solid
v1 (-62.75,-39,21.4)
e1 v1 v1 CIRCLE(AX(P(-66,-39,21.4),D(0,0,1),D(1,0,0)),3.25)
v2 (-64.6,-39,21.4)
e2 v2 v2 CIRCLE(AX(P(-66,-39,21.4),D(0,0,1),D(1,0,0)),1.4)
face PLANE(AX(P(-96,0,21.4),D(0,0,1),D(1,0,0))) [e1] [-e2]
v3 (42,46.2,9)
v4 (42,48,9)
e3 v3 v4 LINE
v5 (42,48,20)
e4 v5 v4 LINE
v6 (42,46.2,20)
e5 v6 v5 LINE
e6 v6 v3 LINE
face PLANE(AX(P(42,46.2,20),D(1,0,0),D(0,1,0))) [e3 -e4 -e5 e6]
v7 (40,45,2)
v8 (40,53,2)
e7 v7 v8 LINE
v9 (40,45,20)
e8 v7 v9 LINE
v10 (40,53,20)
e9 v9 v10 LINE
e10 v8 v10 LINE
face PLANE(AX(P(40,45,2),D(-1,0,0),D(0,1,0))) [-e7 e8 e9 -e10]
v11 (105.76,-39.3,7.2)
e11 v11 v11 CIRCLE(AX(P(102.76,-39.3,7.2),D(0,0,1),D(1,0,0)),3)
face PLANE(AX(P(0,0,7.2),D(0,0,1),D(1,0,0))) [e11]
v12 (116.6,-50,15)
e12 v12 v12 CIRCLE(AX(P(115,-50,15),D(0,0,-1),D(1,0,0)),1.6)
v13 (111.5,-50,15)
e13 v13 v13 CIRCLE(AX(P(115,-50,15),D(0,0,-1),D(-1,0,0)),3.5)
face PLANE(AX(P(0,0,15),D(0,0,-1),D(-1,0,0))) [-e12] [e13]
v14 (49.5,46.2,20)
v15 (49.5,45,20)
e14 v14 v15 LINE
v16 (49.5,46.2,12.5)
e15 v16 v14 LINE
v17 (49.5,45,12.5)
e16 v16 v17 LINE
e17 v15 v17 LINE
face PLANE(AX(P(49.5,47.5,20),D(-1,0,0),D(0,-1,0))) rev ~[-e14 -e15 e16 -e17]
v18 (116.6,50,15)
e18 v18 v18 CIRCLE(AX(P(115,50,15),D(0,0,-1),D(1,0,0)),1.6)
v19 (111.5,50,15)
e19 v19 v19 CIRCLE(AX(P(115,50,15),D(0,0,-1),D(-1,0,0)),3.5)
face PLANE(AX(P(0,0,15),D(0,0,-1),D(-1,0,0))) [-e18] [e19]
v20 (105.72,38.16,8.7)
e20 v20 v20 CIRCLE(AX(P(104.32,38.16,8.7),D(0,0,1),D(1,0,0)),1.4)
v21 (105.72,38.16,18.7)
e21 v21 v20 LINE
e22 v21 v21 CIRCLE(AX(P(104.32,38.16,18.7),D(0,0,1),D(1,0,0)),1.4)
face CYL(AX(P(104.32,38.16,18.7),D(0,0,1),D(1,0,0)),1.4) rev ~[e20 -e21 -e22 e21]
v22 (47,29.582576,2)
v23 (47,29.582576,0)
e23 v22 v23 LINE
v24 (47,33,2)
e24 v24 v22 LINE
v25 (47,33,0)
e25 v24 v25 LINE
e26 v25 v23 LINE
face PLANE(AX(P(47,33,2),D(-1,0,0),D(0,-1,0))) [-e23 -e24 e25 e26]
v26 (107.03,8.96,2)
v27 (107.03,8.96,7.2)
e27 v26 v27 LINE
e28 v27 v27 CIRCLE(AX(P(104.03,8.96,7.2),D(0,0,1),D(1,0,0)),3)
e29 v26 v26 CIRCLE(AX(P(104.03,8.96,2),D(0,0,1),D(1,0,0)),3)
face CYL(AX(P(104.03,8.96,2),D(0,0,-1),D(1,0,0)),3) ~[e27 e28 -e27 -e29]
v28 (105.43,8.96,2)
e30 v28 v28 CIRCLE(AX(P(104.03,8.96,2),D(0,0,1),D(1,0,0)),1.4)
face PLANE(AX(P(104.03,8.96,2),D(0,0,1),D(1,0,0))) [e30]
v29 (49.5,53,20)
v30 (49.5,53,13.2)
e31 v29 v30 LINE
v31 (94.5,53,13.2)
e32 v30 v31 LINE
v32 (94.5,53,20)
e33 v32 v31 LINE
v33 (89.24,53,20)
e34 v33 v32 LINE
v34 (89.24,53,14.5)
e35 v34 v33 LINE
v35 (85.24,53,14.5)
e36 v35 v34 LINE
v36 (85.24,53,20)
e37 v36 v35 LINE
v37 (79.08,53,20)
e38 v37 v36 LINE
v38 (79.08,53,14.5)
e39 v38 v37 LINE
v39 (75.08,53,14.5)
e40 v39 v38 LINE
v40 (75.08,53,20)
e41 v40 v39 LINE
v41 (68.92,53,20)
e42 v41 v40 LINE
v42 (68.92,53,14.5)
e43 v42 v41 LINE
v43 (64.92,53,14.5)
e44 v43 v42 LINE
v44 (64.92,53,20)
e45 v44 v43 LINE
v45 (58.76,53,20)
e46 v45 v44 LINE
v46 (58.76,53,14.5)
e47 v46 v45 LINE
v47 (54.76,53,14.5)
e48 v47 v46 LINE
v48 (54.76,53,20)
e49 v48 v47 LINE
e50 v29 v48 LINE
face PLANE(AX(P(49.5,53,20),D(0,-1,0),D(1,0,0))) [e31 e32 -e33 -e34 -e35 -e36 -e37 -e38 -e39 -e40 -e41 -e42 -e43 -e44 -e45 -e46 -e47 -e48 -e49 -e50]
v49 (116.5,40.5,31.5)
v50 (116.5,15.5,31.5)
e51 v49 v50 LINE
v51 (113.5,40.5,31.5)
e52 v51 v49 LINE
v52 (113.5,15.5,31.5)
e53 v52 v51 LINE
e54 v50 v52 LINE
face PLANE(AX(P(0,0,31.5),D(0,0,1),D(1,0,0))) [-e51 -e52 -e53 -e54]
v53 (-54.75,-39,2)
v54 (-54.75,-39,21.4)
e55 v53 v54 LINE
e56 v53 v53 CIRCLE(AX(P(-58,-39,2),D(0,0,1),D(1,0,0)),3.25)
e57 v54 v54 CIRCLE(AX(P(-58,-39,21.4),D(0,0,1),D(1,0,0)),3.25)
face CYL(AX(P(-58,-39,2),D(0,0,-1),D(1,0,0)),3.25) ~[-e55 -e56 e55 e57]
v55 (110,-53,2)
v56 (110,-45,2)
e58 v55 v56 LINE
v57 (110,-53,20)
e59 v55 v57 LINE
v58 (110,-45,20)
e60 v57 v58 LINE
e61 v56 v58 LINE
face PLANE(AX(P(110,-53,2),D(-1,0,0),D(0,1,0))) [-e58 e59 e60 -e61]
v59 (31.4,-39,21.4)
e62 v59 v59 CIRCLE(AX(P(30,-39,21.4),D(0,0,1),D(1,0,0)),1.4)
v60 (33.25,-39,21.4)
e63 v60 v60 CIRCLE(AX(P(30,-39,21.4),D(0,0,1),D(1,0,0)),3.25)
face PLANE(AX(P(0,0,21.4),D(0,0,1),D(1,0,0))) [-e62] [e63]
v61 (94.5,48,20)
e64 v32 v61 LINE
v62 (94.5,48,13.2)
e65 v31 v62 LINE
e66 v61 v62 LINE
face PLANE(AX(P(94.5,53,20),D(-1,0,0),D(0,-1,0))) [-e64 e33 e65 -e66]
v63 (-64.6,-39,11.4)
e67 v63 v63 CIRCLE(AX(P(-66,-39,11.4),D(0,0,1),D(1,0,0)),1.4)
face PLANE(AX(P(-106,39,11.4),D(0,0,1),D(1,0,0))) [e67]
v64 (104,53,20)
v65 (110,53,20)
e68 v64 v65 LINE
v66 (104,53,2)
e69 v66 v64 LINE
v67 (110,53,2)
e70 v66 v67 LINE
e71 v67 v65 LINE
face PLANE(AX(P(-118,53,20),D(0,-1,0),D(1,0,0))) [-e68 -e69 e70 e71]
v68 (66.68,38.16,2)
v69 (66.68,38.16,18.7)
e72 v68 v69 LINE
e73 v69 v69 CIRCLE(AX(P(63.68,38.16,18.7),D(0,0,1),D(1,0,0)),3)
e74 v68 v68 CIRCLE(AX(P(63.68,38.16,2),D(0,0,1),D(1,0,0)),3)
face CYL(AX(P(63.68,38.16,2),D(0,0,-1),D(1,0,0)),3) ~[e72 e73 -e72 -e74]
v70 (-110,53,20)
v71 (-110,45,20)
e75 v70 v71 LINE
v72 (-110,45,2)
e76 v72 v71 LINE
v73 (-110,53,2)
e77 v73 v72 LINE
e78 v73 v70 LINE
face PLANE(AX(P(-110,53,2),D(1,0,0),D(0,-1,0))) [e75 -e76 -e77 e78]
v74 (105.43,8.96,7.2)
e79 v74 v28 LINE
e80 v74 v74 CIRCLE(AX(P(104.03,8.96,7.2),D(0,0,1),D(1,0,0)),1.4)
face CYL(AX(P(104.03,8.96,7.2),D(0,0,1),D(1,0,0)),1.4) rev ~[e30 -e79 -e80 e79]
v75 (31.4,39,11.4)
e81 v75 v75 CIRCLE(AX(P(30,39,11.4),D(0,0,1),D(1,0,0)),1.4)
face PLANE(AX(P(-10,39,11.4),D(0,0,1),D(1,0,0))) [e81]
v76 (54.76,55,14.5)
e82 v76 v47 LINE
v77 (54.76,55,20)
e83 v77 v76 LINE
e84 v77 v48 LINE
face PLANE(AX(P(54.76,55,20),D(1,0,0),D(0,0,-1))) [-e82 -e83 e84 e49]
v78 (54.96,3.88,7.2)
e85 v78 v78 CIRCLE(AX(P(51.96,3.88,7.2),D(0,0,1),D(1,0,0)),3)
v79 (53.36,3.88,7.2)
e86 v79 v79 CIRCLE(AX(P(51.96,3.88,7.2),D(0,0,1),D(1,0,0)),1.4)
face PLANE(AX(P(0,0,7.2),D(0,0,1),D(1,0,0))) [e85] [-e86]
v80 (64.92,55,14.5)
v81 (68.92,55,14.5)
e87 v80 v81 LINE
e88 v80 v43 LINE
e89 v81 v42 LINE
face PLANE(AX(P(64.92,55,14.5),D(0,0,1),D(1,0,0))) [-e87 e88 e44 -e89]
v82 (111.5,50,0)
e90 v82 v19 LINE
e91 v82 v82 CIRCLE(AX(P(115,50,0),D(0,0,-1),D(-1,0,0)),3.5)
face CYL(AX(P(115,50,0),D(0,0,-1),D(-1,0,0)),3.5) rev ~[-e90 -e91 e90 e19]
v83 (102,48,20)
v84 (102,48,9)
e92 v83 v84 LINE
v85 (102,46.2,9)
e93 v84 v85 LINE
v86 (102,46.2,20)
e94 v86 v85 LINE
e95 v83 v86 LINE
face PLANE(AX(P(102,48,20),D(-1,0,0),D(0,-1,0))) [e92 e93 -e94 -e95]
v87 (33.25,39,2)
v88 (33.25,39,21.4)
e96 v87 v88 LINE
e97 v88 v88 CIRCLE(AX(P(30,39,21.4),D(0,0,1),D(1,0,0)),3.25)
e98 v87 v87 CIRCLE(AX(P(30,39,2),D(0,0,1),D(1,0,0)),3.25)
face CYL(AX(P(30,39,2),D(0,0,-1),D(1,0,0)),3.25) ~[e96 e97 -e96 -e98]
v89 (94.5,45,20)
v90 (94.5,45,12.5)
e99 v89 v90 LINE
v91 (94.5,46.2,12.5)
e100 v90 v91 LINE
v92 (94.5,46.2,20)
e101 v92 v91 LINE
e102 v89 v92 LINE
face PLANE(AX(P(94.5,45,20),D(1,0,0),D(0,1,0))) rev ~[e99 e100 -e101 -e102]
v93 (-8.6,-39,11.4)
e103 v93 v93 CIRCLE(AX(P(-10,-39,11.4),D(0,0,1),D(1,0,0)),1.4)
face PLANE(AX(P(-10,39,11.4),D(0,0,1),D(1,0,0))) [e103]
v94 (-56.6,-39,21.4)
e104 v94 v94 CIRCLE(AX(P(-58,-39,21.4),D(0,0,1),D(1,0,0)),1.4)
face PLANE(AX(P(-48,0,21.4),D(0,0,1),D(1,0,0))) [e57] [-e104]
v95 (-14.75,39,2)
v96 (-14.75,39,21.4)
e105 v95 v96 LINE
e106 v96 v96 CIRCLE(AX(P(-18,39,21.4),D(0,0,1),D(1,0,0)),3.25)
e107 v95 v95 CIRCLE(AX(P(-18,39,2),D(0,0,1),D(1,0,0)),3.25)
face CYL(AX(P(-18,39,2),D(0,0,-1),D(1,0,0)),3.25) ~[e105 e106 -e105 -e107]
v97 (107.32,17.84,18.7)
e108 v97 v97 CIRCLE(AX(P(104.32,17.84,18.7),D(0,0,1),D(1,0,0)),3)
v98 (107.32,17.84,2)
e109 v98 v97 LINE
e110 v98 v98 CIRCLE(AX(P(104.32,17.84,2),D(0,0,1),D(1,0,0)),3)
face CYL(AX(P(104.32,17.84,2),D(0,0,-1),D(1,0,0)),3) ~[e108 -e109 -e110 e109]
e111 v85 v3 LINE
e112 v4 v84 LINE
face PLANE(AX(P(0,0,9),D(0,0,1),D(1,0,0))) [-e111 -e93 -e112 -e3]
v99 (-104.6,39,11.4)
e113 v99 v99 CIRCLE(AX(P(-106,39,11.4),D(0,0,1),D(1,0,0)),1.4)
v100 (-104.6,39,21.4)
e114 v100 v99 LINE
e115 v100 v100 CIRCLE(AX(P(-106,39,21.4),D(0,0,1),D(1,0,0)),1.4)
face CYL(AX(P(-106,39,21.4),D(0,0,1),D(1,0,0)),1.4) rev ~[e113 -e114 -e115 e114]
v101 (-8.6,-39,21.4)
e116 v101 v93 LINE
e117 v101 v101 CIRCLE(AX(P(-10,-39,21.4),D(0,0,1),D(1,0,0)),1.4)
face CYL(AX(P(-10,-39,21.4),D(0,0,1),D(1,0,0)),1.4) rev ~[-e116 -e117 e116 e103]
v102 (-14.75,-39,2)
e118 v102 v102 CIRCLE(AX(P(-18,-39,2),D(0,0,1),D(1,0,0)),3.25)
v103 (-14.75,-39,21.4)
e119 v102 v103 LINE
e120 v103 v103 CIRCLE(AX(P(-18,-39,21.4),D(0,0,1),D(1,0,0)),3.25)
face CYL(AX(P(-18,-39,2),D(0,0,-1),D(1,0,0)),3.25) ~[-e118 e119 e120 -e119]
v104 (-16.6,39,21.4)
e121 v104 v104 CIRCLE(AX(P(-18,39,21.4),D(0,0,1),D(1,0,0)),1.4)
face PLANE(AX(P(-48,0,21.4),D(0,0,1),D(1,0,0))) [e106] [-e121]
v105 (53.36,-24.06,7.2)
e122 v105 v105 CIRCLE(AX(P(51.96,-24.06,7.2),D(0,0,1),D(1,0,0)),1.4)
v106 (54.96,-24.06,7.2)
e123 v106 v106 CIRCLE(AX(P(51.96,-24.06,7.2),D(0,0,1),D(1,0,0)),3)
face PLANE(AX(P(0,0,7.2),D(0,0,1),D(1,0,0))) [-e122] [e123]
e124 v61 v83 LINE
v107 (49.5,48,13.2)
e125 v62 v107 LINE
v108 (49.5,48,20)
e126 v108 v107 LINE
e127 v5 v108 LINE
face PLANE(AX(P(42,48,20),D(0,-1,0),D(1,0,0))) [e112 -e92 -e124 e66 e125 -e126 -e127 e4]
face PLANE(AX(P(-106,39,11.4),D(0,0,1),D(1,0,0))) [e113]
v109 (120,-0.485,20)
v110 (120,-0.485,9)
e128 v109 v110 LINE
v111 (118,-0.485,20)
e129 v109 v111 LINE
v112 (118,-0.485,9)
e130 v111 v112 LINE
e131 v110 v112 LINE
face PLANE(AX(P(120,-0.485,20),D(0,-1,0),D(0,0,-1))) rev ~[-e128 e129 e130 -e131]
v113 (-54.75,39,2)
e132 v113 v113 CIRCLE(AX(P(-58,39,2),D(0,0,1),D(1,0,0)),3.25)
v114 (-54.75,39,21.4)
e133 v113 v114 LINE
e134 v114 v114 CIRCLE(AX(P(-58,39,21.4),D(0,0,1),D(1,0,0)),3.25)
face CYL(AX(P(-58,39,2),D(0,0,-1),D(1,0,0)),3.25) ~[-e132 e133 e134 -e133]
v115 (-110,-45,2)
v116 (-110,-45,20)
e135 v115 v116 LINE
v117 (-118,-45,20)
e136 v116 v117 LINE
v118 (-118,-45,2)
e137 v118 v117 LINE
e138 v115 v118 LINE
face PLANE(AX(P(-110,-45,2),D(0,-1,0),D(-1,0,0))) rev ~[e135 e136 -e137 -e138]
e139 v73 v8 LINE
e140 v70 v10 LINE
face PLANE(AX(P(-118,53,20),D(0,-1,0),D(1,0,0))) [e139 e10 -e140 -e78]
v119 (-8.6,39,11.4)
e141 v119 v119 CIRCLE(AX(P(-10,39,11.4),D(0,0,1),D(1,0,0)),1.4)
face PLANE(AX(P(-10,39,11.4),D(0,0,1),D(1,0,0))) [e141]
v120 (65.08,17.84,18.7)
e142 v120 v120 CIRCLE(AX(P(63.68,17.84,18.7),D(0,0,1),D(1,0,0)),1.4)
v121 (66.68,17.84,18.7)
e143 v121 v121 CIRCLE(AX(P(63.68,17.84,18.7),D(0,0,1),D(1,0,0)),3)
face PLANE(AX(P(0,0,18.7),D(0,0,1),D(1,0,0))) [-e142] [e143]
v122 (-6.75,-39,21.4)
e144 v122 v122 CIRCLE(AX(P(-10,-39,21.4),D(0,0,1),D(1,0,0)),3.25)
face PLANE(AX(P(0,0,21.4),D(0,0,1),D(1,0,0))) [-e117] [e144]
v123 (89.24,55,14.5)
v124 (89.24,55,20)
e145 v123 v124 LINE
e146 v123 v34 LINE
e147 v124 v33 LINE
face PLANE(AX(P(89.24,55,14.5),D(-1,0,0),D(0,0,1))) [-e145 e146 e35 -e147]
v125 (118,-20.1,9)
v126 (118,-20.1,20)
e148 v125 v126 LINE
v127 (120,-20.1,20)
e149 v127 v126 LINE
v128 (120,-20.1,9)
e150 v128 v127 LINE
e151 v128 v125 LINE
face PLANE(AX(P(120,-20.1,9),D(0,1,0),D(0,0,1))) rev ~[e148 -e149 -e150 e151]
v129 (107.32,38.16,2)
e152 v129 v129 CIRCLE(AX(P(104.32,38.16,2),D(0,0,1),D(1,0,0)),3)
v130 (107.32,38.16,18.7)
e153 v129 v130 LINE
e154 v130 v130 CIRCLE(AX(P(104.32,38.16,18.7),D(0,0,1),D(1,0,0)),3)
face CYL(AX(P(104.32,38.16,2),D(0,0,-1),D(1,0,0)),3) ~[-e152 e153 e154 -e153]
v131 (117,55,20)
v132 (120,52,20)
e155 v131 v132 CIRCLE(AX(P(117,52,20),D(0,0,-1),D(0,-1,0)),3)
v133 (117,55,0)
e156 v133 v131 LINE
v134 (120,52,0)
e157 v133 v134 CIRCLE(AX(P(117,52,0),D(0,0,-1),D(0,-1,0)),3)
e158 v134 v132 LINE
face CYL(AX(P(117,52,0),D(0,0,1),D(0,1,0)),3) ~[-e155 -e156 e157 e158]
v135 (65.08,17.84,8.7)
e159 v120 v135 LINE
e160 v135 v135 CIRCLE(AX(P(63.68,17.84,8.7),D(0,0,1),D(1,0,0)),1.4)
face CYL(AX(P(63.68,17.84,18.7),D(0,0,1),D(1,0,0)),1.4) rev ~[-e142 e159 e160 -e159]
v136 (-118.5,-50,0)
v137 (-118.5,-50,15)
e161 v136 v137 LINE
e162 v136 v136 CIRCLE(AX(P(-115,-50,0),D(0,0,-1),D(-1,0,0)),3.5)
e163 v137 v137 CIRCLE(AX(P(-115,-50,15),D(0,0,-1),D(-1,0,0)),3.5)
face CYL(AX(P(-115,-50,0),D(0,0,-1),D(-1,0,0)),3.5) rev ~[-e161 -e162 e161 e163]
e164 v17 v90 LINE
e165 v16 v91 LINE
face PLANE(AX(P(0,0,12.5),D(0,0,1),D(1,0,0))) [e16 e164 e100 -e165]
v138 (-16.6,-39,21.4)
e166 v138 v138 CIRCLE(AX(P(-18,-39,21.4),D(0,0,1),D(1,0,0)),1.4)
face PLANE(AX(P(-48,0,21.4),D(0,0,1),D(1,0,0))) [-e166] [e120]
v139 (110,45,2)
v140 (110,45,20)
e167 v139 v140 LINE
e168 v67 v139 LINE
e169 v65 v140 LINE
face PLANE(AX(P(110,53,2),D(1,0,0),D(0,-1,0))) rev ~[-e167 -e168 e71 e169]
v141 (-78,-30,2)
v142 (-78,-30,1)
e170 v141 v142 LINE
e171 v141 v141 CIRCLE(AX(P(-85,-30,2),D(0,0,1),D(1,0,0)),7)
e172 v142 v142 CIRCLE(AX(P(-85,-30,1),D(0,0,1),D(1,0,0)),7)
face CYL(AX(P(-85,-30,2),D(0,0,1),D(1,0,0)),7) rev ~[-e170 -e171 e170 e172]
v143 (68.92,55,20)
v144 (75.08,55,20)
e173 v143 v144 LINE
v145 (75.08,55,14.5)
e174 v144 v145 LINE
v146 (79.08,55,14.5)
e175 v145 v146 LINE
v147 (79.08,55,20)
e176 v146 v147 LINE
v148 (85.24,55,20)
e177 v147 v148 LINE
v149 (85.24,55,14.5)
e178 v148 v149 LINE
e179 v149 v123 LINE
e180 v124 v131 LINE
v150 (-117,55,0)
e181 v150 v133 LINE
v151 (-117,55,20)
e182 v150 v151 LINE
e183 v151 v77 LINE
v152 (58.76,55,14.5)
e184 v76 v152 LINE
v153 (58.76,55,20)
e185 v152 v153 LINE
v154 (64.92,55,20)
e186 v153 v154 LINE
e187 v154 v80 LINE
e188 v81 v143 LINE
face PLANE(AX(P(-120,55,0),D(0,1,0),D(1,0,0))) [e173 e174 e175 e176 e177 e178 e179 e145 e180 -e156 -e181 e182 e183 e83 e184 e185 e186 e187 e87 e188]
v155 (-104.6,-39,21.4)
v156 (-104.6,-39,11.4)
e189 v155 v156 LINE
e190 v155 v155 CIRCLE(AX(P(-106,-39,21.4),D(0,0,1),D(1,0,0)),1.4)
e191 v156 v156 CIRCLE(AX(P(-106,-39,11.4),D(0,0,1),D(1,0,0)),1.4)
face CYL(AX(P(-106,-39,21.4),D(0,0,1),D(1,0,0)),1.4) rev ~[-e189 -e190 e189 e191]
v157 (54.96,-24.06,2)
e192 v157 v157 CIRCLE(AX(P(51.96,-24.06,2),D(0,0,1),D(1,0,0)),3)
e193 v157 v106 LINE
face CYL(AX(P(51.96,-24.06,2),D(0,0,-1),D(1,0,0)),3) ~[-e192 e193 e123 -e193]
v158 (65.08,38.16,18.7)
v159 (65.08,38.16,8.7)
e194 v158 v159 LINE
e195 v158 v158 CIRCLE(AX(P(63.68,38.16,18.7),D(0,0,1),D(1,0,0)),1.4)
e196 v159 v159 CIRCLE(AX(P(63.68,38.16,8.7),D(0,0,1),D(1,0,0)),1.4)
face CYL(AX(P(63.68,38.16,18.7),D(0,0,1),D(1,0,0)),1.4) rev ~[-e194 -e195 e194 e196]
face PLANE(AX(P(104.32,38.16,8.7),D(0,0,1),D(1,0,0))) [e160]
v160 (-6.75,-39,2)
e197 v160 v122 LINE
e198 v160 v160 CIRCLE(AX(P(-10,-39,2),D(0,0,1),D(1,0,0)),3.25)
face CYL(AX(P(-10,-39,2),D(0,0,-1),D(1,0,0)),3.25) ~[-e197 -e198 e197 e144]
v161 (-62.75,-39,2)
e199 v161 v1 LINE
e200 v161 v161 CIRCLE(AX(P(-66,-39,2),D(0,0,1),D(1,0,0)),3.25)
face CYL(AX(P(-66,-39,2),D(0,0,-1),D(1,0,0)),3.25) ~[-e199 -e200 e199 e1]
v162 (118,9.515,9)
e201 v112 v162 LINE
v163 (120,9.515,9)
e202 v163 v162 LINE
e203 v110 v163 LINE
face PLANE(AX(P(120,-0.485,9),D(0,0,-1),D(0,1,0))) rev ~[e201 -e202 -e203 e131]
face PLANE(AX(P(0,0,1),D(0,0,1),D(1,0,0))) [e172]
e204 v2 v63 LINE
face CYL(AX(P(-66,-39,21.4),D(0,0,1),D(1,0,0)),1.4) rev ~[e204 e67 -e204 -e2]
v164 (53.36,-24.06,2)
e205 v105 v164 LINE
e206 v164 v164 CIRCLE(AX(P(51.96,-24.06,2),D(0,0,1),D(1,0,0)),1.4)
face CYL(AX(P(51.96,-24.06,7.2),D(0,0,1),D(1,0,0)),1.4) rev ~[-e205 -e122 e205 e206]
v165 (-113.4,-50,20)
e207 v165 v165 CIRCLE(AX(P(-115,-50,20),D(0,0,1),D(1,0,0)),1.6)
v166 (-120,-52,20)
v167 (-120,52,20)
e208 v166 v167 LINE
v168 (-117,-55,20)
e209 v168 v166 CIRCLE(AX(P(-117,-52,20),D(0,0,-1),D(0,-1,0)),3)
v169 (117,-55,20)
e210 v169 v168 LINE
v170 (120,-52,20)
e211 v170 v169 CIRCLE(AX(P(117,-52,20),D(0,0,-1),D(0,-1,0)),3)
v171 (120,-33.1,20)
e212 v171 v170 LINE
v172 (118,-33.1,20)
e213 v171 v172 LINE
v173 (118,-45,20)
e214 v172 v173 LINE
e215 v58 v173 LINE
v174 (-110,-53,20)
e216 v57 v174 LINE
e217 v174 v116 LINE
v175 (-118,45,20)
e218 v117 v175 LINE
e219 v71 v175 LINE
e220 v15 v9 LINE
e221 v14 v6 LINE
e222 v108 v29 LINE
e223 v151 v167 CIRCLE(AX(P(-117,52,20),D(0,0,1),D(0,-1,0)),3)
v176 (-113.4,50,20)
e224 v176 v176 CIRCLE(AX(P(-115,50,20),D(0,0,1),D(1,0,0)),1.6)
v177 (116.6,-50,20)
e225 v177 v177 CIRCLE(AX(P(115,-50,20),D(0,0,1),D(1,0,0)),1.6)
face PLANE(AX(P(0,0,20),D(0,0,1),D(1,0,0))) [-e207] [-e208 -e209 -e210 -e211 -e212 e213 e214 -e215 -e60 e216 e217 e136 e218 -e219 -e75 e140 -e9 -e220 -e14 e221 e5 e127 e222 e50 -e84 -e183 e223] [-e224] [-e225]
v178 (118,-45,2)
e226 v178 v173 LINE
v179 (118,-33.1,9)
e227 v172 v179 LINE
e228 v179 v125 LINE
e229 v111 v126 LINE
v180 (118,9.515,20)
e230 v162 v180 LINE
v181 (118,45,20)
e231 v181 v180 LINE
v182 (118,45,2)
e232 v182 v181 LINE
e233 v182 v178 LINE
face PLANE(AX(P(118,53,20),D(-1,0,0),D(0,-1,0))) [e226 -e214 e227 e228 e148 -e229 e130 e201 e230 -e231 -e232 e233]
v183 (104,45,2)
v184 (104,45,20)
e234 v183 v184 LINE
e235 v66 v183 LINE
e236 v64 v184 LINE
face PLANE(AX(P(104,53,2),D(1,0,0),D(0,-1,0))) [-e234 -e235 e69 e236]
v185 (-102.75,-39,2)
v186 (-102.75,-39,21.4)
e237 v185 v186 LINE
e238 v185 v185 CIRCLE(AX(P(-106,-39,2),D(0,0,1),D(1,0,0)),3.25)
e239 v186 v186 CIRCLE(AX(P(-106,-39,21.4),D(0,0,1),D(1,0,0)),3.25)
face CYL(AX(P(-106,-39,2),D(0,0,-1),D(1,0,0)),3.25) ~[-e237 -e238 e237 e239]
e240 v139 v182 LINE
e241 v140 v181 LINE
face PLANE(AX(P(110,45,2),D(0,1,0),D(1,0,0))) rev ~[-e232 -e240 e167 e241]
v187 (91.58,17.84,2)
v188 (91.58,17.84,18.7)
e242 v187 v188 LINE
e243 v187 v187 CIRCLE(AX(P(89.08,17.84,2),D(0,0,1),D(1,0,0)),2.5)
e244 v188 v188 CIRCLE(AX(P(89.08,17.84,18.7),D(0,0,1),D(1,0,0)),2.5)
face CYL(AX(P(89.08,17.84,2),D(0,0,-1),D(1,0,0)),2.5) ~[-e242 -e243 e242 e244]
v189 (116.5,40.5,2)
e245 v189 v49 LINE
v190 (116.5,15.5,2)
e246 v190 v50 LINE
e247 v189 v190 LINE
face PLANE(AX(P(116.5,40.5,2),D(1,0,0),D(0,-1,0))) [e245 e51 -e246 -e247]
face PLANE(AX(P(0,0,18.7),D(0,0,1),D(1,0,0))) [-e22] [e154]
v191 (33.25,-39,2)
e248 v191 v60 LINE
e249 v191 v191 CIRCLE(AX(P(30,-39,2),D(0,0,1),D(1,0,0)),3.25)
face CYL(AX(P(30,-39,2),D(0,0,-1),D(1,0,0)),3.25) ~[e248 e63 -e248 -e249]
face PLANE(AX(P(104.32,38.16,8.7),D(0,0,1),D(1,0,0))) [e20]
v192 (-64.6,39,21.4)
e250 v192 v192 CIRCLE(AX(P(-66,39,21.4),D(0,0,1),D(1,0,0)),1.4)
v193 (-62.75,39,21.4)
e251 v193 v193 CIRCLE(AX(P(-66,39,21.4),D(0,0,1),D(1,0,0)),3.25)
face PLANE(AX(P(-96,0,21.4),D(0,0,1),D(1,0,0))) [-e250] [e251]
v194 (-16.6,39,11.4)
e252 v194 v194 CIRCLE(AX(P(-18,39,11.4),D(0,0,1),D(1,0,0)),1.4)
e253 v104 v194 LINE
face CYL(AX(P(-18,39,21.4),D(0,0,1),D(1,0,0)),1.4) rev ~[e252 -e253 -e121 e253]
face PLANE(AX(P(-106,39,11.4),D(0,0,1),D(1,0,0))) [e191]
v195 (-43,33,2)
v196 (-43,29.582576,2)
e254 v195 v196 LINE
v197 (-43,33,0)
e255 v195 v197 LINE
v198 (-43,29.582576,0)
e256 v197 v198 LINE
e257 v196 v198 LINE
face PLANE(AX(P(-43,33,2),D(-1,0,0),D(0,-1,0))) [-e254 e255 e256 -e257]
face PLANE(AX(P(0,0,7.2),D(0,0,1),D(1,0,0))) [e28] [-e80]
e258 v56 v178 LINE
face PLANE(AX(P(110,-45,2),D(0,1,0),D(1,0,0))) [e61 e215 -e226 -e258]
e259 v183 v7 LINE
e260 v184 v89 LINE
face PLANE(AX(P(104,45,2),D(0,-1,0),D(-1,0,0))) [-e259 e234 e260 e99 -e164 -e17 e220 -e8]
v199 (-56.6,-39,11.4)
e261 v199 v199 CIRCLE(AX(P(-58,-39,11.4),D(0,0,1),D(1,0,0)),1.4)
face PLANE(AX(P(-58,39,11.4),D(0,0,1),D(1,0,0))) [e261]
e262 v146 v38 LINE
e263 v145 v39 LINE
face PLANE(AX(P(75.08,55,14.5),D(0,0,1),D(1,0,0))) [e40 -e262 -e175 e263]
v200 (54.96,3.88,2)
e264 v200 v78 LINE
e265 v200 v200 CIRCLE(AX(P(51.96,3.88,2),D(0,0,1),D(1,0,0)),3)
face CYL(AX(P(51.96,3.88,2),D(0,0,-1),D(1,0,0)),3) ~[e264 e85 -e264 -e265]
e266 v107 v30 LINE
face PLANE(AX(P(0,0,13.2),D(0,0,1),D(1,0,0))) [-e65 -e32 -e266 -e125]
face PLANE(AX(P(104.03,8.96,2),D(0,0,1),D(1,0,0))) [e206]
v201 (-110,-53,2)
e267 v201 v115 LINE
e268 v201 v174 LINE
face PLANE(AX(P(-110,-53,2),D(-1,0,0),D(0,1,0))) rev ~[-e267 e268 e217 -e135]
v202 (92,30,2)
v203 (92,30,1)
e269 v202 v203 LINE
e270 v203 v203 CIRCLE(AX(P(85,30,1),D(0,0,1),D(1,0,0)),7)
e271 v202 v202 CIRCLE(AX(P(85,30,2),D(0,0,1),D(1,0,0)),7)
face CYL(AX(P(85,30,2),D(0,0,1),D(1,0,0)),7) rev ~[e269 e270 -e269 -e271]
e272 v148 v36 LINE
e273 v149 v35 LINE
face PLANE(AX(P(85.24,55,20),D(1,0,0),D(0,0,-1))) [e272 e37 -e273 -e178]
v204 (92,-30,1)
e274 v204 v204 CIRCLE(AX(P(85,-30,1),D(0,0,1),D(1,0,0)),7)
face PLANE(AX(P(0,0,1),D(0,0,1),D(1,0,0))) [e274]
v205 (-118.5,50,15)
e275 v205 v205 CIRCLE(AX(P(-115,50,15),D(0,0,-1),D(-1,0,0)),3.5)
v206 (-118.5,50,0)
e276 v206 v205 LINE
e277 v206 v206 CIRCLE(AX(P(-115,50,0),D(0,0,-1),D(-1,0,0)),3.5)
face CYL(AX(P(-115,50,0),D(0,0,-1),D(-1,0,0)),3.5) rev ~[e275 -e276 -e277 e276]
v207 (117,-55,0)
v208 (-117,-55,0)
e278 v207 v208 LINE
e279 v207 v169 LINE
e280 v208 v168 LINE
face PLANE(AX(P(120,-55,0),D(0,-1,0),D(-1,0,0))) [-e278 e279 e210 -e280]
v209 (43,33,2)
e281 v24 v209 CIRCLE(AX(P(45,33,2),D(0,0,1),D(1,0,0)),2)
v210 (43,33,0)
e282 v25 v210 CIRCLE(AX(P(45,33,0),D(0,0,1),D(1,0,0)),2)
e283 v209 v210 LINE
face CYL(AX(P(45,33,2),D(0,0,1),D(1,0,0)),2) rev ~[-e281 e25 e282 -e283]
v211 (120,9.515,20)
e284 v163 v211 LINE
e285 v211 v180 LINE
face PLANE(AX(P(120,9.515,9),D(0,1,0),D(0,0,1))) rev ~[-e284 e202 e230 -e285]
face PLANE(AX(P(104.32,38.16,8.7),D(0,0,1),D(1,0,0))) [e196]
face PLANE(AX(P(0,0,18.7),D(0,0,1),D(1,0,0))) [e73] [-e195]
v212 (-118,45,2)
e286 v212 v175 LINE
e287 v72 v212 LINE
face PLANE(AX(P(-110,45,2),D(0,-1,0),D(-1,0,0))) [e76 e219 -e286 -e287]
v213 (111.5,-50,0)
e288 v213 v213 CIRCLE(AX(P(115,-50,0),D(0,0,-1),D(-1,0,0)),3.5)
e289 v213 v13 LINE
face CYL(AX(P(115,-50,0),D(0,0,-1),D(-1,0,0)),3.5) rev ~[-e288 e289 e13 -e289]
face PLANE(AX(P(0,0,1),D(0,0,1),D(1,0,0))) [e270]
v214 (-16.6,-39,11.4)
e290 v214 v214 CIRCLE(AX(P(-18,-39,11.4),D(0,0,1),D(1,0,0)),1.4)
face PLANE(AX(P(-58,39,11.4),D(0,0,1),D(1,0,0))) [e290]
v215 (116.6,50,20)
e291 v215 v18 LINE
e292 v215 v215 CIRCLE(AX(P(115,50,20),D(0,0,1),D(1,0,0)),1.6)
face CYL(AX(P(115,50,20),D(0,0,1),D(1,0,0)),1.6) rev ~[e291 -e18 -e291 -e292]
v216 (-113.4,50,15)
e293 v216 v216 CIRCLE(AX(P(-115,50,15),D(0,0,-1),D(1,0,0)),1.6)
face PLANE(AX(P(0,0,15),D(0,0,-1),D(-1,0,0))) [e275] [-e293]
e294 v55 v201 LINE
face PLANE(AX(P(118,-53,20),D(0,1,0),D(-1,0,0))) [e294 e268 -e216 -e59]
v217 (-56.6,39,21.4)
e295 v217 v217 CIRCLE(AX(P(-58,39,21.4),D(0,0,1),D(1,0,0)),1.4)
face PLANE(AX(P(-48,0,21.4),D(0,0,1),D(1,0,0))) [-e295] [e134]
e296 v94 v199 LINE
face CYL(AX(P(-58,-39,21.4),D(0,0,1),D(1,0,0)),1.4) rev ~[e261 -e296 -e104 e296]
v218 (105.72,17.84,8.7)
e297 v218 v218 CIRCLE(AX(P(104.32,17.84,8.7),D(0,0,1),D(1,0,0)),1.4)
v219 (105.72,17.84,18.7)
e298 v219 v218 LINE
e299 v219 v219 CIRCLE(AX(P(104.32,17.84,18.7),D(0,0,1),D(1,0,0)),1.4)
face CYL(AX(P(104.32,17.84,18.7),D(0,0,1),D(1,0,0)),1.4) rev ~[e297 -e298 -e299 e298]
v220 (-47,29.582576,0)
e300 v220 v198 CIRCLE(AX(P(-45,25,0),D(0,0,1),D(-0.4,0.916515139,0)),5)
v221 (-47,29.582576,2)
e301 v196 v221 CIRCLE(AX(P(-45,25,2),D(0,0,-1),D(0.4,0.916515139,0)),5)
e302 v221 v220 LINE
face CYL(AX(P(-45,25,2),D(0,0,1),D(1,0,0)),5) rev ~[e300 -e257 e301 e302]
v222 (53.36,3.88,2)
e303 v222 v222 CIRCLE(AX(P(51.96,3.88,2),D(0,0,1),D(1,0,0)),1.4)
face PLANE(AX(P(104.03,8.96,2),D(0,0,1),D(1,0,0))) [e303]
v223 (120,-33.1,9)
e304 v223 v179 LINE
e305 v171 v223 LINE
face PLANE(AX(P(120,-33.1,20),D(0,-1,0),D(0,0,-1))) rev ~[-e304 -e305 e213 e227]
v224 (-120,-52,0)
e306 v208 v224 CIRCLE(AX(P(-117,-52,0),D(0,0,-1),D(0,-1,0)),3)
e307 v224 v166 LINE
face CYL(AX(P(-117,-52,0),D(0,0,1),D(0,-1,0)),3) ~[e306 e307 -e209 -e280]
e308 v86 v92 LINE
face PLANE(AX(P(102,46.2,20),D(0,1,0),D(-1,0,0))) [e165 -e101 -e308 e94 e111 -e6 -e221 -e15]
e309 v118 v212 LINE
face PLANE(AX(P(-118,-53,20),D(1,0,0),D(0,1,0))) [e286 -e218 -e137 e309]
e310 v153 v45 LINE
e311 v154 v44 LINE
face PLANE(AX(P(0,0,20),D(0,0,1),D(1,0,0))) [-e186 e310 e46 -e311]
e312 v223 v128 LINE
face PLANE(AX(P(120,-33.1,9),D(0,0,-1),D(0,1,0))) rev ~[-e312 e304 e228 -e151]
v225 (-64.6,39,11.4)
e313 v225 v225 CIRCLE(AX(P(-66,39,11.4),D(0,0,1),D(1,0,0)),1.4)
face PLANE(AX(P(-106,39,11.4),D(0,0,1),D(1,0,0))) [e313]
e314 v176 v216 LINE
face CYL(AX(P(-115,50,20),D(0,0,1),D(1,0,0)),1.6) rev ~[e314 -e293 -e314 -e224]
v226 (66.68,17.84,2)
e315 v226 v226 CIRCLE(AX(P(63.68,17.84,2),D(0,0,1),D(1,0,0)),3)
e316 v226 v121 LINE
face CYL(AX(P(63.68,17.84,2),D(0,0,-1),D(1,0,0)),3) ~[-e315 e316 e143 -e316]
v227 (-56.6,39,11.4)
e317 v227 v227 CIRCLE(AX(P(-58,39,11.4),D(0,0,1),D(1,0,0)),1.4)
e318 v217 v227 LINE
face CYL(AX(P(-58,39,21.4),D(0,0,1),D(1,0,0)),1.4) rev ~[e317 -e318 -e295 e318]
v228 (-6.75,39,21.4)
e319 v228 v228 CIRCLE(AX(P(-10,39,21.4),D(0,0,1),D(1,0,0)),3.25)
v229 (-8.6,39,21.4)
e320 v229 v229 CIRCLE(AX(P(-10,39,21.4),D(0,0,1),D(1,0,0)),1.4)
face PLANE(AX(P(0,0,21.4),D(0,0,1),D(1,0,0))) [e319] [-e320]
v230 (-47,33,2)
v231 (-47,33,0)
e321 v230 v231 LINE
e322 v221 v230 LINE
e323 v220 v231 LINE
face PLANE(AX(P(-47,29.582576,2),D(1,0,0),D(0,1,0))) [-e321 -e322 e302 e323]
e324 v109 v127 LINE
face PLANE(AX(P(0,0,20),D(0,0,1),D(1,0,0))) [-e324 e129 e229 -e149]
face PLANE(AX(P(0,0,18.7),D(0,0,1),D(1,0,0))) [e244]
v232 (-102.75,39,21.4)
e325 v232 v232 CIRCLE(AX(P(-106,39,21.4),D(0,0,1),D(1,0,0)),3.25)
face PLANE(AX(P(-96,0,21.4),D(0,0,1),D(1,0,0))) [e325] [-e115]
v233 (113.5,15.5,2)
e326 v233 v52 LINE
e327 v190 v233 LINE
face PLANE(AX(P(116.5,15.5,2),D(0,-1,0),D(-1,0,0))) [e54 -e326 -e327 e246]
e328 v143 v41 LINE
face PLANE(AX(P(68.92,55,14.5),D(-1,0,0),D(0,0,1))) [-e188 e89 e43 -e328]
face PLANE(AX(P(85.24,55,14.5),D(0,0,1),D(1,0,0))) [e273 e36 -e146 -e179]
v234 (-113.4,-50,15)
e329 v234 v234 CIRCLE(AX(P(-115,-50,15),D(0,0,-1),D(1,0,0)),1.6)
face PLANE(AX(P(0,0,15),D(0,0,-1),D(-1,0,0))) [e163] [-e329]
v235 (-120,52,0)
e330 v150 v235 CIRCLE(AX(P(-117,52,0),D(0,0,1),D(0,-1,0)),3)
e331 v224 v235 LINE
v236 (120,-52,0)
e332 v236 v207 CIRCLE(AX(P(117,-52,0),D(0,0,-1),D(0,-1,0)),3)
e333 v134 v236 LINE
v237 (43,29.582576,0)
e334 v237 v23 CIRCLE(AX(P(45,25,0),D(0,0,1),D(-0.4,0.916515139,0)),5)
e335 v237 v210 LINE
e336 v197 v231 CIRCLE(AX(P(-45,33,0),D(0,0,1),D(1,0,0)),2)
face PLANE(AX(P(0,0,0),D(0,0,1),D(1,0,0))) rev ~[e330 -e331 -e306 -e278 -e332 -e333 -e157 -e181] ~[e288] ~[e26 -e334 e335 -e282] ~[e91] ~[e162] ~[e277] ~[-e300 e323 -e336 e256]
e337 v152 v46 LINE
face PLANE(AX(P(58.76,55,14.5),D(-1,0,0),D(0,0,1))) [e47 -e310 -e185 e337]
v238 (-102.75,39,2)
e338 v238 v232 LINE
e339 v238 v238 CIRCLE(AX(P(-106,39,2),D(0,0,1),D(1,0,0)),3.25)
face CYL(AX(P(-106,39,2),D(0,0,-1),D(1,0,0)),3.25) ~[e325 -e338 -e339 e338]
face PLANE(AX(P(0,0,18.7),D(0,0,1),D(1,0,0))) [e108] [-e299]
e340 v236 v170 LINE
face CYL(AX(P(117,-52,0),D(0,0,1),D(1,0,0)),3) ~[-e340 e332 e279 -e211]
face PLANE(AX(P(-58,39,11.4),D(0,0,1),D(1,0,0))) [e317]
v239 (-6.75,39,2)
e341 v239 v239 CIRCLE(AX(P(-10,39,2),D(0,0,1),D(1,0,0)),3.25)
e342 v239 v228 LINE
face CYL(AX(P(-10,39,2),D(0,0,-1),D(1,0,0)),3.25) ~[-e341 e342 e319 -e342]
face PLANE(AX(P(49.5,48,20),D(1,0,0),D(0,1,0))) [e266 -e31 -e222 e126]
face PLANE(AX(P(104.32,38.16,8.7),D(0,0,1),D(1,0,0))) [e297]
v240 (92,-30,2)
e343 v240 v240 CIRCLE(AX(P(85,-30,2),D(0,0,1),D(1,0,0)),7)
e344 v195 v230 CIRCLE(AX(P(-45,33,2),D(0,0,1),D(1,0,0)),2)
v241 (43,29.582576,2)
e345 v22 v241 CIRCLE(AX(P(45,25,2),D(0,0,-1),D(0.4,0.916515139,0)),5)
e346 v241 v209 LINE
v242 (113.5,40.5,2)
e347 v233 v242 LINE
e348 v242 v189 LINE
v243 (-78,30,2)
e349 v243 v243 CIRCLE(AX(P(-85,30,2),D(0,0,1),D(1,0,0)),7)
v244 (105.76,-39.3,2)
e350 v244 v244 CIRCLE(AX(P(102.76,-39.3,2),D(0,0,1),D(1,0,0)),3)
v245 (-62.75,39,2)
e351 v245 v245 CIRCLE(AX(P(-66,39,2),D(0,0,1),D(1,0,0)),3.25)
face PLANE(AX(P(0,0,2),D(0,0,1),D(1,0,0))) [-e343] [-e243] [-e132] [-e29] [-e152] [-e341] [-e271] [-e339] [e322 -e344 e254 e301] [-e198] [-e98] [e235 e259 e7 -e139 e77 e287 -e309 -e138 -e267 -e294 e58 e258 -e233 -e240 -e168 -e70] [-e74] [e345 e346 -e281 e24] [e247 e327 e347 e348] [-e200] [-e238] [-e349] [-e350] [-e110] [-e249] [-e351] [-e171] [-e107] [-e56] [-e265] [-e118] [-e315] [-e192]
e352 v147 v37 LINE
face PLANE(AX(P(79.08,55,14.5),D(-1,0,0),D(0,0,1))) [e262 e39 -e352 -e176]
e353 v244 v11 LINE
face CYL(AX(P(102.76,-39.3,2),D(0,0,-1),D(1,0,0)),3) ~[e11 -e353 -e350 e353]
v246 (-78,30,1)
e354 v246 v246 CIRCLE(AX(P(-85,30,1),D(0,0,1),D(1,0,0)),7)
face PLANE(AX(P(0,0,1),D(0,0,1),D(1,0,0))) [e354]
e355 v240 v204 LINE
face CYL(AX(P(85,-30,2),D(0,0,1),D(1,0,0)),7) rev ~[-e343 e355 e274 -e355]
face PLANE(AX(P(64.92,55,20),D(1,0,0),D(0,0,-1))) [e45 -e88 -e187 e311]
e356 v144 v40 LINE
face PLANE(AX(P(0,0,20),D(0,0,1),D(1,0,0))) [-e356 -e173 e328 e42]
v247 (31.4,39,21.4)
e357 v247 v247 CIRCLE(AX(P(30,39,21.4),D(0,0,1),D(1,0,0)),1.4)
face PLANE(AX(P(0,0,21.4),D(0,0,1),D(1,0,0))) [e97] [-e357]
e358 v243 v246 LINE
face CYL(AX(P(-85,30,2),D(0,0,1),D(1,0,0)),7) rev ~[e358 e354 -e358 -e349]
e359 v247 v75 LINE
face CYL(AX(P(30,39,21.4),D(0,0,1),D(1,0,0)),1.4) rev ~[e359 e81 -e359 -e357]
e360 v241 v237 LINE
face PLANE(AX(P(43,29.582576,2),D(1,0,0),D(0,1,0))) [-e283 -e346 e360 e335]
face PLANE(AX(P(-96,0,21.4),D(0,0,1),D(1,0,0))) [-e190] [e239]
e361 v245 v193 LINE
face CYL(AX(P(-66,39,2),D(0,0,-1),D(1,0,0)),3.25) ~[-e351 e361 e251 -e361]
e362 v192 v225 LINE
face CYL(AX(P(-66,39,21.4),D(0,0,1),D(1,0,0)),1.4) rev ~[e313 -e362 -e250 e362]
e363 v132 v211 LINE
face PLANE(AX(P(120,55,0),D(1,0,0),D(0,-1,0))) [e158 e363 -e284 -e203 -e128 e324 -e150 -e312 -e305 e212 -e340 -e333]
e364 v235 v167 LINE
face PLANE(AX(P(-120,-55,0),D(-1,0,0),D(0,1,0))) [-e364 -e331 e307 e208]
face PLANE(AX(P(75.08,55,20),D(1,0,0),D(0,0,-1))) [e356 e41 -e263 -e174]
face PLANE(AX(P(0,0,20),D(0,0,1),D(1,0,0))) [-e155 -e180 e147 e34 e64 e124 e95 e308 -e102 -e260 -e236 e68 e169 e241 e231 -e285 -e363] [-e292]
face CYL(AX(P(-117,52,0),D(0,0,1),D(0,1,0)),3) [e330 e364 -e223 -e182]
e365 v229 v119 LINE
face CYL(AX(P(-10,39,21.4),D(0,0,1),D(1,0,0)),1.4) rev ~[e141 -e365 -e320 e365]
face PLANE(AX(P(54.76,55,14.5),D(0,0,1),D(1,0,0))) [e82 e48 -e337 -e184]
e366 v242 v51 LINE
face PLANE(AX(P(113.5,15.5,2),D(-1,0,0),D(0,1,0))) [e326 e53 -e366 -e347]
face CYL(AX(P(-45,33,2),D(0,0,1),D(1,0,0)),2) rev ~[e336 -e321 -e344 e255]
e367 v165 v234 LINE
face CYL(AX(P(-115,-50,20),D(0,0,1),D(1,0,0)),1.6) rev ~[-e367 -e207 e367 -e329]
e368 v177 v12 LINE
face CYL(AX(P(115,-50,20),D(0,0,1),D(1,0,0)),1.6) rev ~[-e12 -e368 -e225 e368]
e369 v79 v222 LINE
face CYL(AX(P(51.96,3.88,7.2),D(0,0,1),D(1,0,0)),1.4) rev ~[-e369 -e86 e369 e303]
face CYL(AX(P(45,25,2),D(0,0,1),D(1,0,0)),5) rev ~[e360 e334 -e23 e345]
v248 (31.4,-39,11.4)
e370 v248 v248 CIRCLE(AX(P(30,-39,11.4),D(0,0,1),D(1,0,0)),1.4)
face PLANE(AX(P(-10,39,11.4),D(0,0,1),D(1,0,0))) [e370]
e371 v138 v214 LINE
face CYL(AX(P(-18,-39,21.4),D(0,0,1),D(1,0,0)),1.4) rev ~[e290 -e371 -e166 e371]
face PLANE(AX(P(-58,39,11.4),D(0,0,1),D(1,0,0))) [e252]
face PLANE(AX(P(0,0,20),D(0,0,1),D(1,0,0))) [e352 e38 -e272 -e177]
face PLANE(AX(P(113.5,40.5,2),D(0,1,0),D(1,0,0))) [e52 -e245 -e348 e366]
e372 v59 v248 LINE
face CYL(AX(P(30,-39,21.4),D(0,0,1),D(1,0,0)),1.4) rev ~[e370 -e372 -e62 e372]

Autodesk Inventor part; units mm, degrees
ref_plane "YZ Plane" through (0, 0, 0) normal (1, 0, 0) x (0, 1, 0)
ref_plane "XZ Plane" through (0, 0, 0) normal (0, 1, 0) x (-1, 0, 0)
ref_plane "XY Plane" through (0, 0, 0) normal (0, 0, 1) x (1, 0, 0)
sketch "スケッチ1" plane through (0, 0, 0) normal (0, 0, 1) x (1, 0, 0)
  line L0 (-120, 55) -> (120, 55)
  line L1 (120, 55) -> (120, -55)
  line L2 (120, -55) -> (-120, -55)
  line L3 (-120, -55) -> (-120, 55)
  point P0 (0, 0)
  dimension "d0" = 240
  dimension "d1" = 110
  dimension "d2" = 120
  dimension "d3" = 55
extrude "押し出し1" add sketch "スケッチ1" along normal blind 20
sketch "スケッチ2" plane through (0, 0, 20) normal (0, 0, 1) x (1, 0, 0)
  line L0 (-118, 53) -> (118, 53)
  line L1 (118, 53) -> (118, -53)
  line L2 (118, -53) -> (-118, -53)
  line L3 (-118, -53) -> (-118, 53)
  point P0 (0, 0)
  dimension "d6" = 236
  dimension "d7" = 106
  dimension "d8" = 118
  dimension "d9" = 53
extrude "押し出し2" cut sketch "スケッチ2" against normal blind 18
sketch "スケッチ3" plane through (0, 0, 2) normal (0, 0, 1) x (1, 0, 0)
  line L0 (-118, 53) -> (-110, 53)
  line L1 (-110, 53) -> (-110, 45)
  line L2 (-110, 45) -> (-118, 45)
  line L3 (-118, 45) -> (-118, 53)
  line L4 (-118, -53) -> (-110, -53)
  line L5 (-110, -53) -> (-110, -45)
  line L6 (-110, -45) -> (-118, -45)
  line L7 (-118, -45) -> (-118, -53)
  line L8 (118, -53) -> (110, -53)
  line L9 (110, -53) -> (110, -45)
  line L10 (110, -45) -> (118, -45)
  line L11 (118, -45) -> (118, -53)
  line L12 (118, 53) -> (110, 53)
  line L13 (110, 53) -> (110, 45)
  line L14 (110, 45) -> (118, 45)
  line L15 (118, 45) -> (118, 53)
  point P0 (0, 0)
  dimension "d13" = 8
  dimension "d14" = 8
  dimension "d15" = 8
  dimension "d16" = 8
  dimension "d17" = 8
  dimension "d18" = 8
  dimension "d19" = 8
  dimension "d117" = 8
extrude "押し出し3" add sketch "スケッチ3" along normal blind 18
sketch "スケッチ4" plane through (0, 0, 20) normal (0, 0, 1) x (1, 0, 0)
  circle A0 centre (-115, 50) radius 1.6
  line L0 (-120, 55) -> (-120, -55) projected
  line L1 (120, 55) -> (-120, 55) projected
  circle A1 centre (-115, -50) radius 1.6
  line L2 (-120, -55) -> (120, -55) projected
  circle A2 centre (115, 50) radius 1.6
  line L3 (120, -55) -> (120, 55) projected
  circle A3 centre (115, -50) radius 1.6
  point P0 (0, 0)
  dimension "d22" = 3.2
  dimension "d23" = 5
  dimension "d24" = 5
  dimension "d25" = 3.2
  dimension "d26" = 5
  dimension "d27" = 5
  dimension "d28" = 3.2
  dimension "d29" = 5
  dimension "d30" = 5
  dimension "d31" = 3.2
  dimension "d32" = 5
  dimension "d33" = 5
extrude "押し出し4" cut sketch "スケッチ4" against normal blind 20 contours A0 | A1 | A2 | A3
sketch "スケッチ5" plane through (0, 0, 0) normal (0, 0, -1) x (-1, 0, 0)
  circle A0 centre (115, -50) radius 3.5
  circle A1 centre (115, -50) radius 1.6 projected
  circle A2 centre (115, 50) radius 3.5
  circle A3 centre (115, 50) radius 1.6 projected
  circle A4 centre (-115, 50) radius 3.5
  circle A5 centre (-115, 50) radius 1.6 projected
  circle A6 centre (-115, -50) radius 3.5
  circle A7 centre (-115, -50) radius 1.6 projected
  point P0 (0, 0)
  dimension "d36" = 7
  dimension "d37" = 7
  dimension "d38" = 7
  dimension "d39" = 7
extrude "押し出し5" cut sketch "スケッチ5" against normal blind 15
sketch "スケッチ6" plane through (0, 0, 2) normal (0, 0, 1) x (1, 0, 0)
  circle A0 centre (-10, -39) radius 3.25
  circle A1 centre (-10, 39) radius 3.25
  circle A2 centre (30, 39) radius 3.25
  circle A3 centre (30, -39) radius 3.25
  point P0 (0, 0)
  dimension "d42" = 39
  dimension "d43" = 10
  dimension "d44" = 40
  dimension "d45" = 39
  dimension "d46" = 6.5
  dimension "d47" = 6.5
  dimension "d48" = 6.5
  dimension "d49" = 6.5
extrude "押し出し6" add sketch "スケッチ6" along normal blind 19.4
sketch "スケッチ7" plane through (-10, 39, 21.4) normal (0, 0, 1) x (1, 0, 0)
  circle A0 centre (0, 0) radius 1.4
  circle A1 centre (0, 0) radius 3.25 projected
  circle A2 centre (0, -78) radius 1.4
  circle A3 centre (0, -78) radius 3.25 projected
  circle A4 centre (40, 0) radius 1.4
  circle A5 centre (40, 0) radius 3.25 projected
  circle A6 centre (40, -78) radius 1.4
  circle A7 centre (40, -78) radius 3.25 projected
  point P0 (10, -39)
  dimension "d52" = 2.8
  dimension "d53" = 2.8
  dimension "d54" = 2.8
  dimension "d55" = 2.8
extrude "押し出し7" cut sketch "スケッチ7" against normal blind 10 contours A0 | A2 | A4 | A6
pattern_linear "矩形状パターン1" count 3 spacing 48 along (-1, 0, 0) of "押し出し6", "押し出し7"
sketch "スケッチ8" plane through (120, -55, 0) normal (1, 0, 0) x (0, 0, -1)
  line L0 (-20, 100) -> (-20, 10) projected
  line L1 (-20, 21.9) -> (-9, 21.9)
  line L2 (-9, 21.9) -> (-9, 34.9)
  line L3 (-9, 34.9) -> (-20, 34.9)
  line L4 (-20, 34.9) -> (-20, 21.9)
  line L5 (-20, 0) -> (-20, 110) projected
  line L6 (-20, 54.515) -> (-9, 54.515)
  line L7 (-9, 54.515) -> (-9, 64.515)
  line L8 (-9, 64.515) -> (-20, 64.515)
  line L9 (-20, 64.515) -> (-20, 54.515)
  point P0 (0, 55)
  point P1 (-20, 66.5)
  point P2 (-20, 59.515)
  point P3 (-20, 28.4)
  dimension "d61" = 11.5
  dimension "d62" = 6.985
  dimension "d63" = 38.1
  dimension "d64" = 11
  dimension "d65" = 13
  dimension "d67" = 11
  dimension "d68" = 10
  dimension "d71" = 1.985
  dimension "d72" = 31.6
extrude "押し出し8" cut sketch "スケッチ8" against normal blind 2
sketch "スケッチ9" plane through (0, 0, 2) normal (0, 0, 1) x (1, 0, 0)
  line L0 (118, 45) -> (118, 9.515) projected
  circle A0 centre (104.03, 8.96) radius 3
  circle A1 centre (51.96, 3.88) radius 3
  circle A2 centre (51.96, -24.06) radius 3
  circle A3 centre (102.76, -39.3) radius 3
  point P0 (0, 0)
  point P1 (118, 11.5)
  dimension "d75" = 11.5
  dimension "d76" = 13.97
  dimension "d77" = 2.54
  dimension "d78" = 66.04
  dimension "d79" = 7.62
  dimension "d80" = 27.94
  dimension "d81" = 15.24
  dimension "d82" = 50.8
  dimension "d83" = 6
extrude "押し出し9" add sketch "スケッチ9" along normal blind 5.2
sketch "スケッチ10" plane through (104.03, 8.96, 7.2) normal (0, 0, 1) x (1, 0, 0)
  circle A0 centre (0, 0) radius 1.4
  circle A1 centre (0, 0) radius 3 projected
  circle A2 centre (-52.07, -5.08) radius 1.4
  circle A3 centre (-52.07, -33.02) radius 1.4
  circle A4 centre (-52.07, -5.08) radius 3 projected
  circle A5 centre (-52.07, -33.02) radius 3 projected
  point P0 (-104.03, -8.96)
  dimension "d86" = 2.8
extrude "押し出し10" cut sketch "スケッチ10" against normal blind 5.2 contours A0 | A2 | A3
sketch "スケッチ11" plane through (-120, 55, 0) normal (0, 1, 0) x (1, 0, 0)
  line L0 (230, -20) -> (10, -20) projected
  line L1 (209.24, -20) -> (205.24, -20)
  line L2 (205.24, -20) -> (205.24, -14.5)
  line L3 (205.24, -14.5) -> (209.24, -14.5)
  line L4 (209.24, -14.5) -> (209.24, -20)
  line L5 (240, -20) -> (0, -20) projected
  point P0 (120, 0)
  point P1 (192, -20)
  point P2 (207.24, -20)
  point P3 (207.24, -14.5)
  dimension "d89" = 72
  dimension "d90" = 15.24
  dimension "d91" = 4
  dimension "d92" = 5.5
extrude "押し出し11" cut sketch "スケッチ11" against normal blind 2
pattern_linear "矩形状パターン2" count 4 spacing 10.16 along (-1, 0, 0) of "押し出し11"
sketch "スケッチ12" plane through (0, 0, 2) normal (0, 0, 1) x (1, 0, 0)
  line L0 (-110, 53) -> (110, 53) projected
  line L1 (40, 53) -> (104, 53)
  line L2 (104, 53) -> (104, 45)
  line L3 (104, 45) -> (40, 45)
  line L4 (40, 45) -> (40, 53)
  line L5 (68.92, 53) -> (75.08, 53) projected
  line L6 (89.24, 53) -> (110, 53) projected
  point P0 (0, 0)
  point P1 (72, 53)
  point P2 (72, 45)
  point P3 (72, 53)
  dimension "d98" = 72
  dimension "d99" = 64
  dimension "d100" = 8
extrude "押し出し12" add sketch "スケッチ12" along normal blind 18
sketch "スケッチ13" plane through (0, 0, 20) normal (0, 0, 1) x (1, 0, 0)
  line L0 (75.08, 55) -> (68.92, 55) projected
  line L1 (42, 48) -> (102, 48)
  line L2 (102, 48) -> (102, 46.2)
  line L3 (102, 46.2) -> (42, 46.2)
  line L4 (42, 46.2) -> (42, 48)
  point P0 (0, 0)
  point P1 (72, 55)
  point P2 (72, 46.2)
  point P3 (72, 55)
  dimension "d103" = 60
  dimension "d104" = 1.8
  dimension "d105" = 7
extrude "押し出し13" cut sketch "スケッチ13" against normal blind 11
sketch "スケッチ14" plane through (0, 0, 20) normal (0, 0, 1) x (1, 0, 0)
  line L0 (75.08, 55) -> (68.92, 55) projected
  line L1 (49.5, 53) -> (94.5, 53)
  line L2 (94.5, 53) -> (94.5, 48)
  line L3 (94.5, 48) -> (49.5, 48)
  line L4 (49.5, 48) -> (49.5, 53)
  point P0 (0, 0)
  point P1 (72, 55)
  point P2 (72, 48)
  point P3 (72, 55)
  dimension "d108" = 45
  dimension "d109" = 5
  dimension "d110" = 2
extrude "押し出し14" cut sketch "スケッチ14" against normal blind 6.8
sketch "スケッチ15" plane through (0, 0, 20) normal (0, 0, 1) x (1, 0, 0)
  line L0 (75.08, 55) -> (68.92, 55) projected
  line L1 (49.5, 45) -> (94.5, 45)
  line L2 (94.5, 45) -> (94.5, 47.5)
  line L3 (94.5, 47.5) -> (49.5, 47.5)
  line L4 (49.5, 47.5) -> (49.5, 45)
  line L5 (40, 45) -> (104, 45) projected
  point P0 (0, 0)
  point P1 (72, 55)
  point P2 (72, 45)
  point P3 (72, 55)
  dimension "d113" = 45
  dimension "d114" = 2.5
extrude "押し出し15" cut sketch "スケッチ15" against normal blind 7.5
sketch "スケッチ16" plane through (0, 0, 2) normal (0, 0, 1) x (1, 0, 0)
  circle A0 centre (104.32, 38.16) radius 3
  circle A1 centre (63.68, 38.16) radius 3
  circle A2 centre (63.68, 17.84) radius 3
  circle A3 centre (104.32, 17.84) radius 3
  circle A4 centre (89.08, 17.84) radius 2.5
  point P0 (0, 0)
  point P1 (84, 28)
  dimension "d118" = 84
  dimension "d119" = 28
  dimension "d120" = 20.32
  dimension "d121" = 10.16
  dimension "d122" = 20.32
  dimension "d123" = 10.16
  dimension "d124" = 6
  dimension "d125" = 5.08
  dimension "d126" = 5
extrude "押し出し16" add sketch "スケッチ16" along normal blind 16.7
sketch "スケッチ17" plane through (104.32, 38.16, 18.7) normal (0, 0, 1) x (1, 0, 0)
  circle A0 centre (0, 0) radius 1.4
  circle A1 centre (-40.64, 0) radius 1.4
  circle A2 centre (-40.64, -20.32) radius 1.4
  circle A3 centre (0, -20.32) radius 1.4
  circle A4 centre (0, 0) radius 3 projected
  circle A5 centre (-40.64, 0) radius 3 projected
  circle A6 centre (-40.64, -20.32) radius 3 projected
  circle A7 centre (0, -20.32) radius 3 projected
  point P0 (-104.32, -38.16)
  dimension "d129" = 2.8
extrude "押し出し17" cut sketch "スケッチ17" against normal blind 10 contours A0 | A1 | A2 | A3
sketch "スケッチ18" plane through (0, 0, 2) normal (0, 0, 1) x (1, 0, 0)
  line L0 (113.5, 40.5) -> (116.5, 40.5)
  line L1 (116.5, 40.5) -> (116.5, 15.5)
  line L2 (116.5, 15.5) -> (113.5, 15.5)
  line L3 (113.5, 15.5) -> (113.5, 40.5)
  point P0 (0, 0)
  point P1 (84, 28)
  point P2 (115, 28)
  point P3 (116.5, 28)
  point P4 (115, 15.5)
  dimension "d132" = 84
  dimension "d133" = 28
  dimension "d134" = 31
  dimension "d135" = 3
  dimension "d136" = 25
extrude "押し出し18" add sketch "スケッチ18" along normal blind 29.5
fillet "フィレット1" radius 3 4 edges at (120, -55, 10) (120, 55, 10) (-120, -55, 10) (-120, 55, 10)
sketch "スケッチ19" plane through (0, 0, 2) normal (0, 0, 1) x (1, 0, 0)
  circle A0 centre (-45, 25) radius 5
  circle A1 centre (45, 25) radius 5
  circle A2 centre (-45, 33) radius 2
  circle A3 centre (45, 33) radius 2
  line L0 (-47, 33) -> (-43, 33)
  line L1 (-43, 33) -> (-43, 29)
  line L2 (-43, 29) -> (-47, 29)
  line L3 (-47, 29) -> (-47, 33)
  line L4 (43, 33) -> (47, 33)
  line L5 (47, 33) -> (47, 29)
  line L6 (47, 29) -> (43, 29)
  line L7 (43, 29) -> (43, 33)
  point P0 (0, 0)
  dimension "d146" = 4
  dimension "d147" = 4
  dimension "d140" = 25
  dimension "d141" = 45
  dimension "d142" = 45
  dimension "d143" = 10
  dimension "d144" = 10
  dimension "d145" = 8
  dimension "d148" = 4
  dimension "d149" = 4
  dimension "d150" = 4
  dimension "d151" = 4
extrude "押し出し19" cut sketch "スケッチ19" against normal blind 2
sketch "スケッチ20" plane through (0, 0, 2) normal (0, 0, 1) x (1, 0, 0)
  circle A0 centre (85, 30) radius 7
  circle A1 centre (-85, 30) radius 7
  circle A2 centre (-85, -30) radius 7
  circle A3 centre (85, -30) radius 7
  point P0 (0, 0)
  dimension "d154" = 30
  dimension "d155" = 85
  dimension "d156" = 85
  dimension "d157" = 30
  dimension "d158" = 14
extrude "押し出し20" cut sketch "スケッチ20" against normal blind 1
equation "\"d2\" = 0.5 * d0"
equation "\"d3\" = 0.5 * d1"
equation "\"d8\" = 0.5 * d6"
equation "\"d9\" = 0.5 * d7"
equation "\"d45\" = d42"
equation "\"d71\" = d62 - 0.5 * d68"
equation "\"d72\" = d63 - 0.5 * d65"
equation "\"d122\" = d120"
equation "\"d123\" = d121"
equation "\"d142\" = d141"
equation "\"d156\" = d155"
equation "\"d157\" = d154"
properties part number "bottom-case"
